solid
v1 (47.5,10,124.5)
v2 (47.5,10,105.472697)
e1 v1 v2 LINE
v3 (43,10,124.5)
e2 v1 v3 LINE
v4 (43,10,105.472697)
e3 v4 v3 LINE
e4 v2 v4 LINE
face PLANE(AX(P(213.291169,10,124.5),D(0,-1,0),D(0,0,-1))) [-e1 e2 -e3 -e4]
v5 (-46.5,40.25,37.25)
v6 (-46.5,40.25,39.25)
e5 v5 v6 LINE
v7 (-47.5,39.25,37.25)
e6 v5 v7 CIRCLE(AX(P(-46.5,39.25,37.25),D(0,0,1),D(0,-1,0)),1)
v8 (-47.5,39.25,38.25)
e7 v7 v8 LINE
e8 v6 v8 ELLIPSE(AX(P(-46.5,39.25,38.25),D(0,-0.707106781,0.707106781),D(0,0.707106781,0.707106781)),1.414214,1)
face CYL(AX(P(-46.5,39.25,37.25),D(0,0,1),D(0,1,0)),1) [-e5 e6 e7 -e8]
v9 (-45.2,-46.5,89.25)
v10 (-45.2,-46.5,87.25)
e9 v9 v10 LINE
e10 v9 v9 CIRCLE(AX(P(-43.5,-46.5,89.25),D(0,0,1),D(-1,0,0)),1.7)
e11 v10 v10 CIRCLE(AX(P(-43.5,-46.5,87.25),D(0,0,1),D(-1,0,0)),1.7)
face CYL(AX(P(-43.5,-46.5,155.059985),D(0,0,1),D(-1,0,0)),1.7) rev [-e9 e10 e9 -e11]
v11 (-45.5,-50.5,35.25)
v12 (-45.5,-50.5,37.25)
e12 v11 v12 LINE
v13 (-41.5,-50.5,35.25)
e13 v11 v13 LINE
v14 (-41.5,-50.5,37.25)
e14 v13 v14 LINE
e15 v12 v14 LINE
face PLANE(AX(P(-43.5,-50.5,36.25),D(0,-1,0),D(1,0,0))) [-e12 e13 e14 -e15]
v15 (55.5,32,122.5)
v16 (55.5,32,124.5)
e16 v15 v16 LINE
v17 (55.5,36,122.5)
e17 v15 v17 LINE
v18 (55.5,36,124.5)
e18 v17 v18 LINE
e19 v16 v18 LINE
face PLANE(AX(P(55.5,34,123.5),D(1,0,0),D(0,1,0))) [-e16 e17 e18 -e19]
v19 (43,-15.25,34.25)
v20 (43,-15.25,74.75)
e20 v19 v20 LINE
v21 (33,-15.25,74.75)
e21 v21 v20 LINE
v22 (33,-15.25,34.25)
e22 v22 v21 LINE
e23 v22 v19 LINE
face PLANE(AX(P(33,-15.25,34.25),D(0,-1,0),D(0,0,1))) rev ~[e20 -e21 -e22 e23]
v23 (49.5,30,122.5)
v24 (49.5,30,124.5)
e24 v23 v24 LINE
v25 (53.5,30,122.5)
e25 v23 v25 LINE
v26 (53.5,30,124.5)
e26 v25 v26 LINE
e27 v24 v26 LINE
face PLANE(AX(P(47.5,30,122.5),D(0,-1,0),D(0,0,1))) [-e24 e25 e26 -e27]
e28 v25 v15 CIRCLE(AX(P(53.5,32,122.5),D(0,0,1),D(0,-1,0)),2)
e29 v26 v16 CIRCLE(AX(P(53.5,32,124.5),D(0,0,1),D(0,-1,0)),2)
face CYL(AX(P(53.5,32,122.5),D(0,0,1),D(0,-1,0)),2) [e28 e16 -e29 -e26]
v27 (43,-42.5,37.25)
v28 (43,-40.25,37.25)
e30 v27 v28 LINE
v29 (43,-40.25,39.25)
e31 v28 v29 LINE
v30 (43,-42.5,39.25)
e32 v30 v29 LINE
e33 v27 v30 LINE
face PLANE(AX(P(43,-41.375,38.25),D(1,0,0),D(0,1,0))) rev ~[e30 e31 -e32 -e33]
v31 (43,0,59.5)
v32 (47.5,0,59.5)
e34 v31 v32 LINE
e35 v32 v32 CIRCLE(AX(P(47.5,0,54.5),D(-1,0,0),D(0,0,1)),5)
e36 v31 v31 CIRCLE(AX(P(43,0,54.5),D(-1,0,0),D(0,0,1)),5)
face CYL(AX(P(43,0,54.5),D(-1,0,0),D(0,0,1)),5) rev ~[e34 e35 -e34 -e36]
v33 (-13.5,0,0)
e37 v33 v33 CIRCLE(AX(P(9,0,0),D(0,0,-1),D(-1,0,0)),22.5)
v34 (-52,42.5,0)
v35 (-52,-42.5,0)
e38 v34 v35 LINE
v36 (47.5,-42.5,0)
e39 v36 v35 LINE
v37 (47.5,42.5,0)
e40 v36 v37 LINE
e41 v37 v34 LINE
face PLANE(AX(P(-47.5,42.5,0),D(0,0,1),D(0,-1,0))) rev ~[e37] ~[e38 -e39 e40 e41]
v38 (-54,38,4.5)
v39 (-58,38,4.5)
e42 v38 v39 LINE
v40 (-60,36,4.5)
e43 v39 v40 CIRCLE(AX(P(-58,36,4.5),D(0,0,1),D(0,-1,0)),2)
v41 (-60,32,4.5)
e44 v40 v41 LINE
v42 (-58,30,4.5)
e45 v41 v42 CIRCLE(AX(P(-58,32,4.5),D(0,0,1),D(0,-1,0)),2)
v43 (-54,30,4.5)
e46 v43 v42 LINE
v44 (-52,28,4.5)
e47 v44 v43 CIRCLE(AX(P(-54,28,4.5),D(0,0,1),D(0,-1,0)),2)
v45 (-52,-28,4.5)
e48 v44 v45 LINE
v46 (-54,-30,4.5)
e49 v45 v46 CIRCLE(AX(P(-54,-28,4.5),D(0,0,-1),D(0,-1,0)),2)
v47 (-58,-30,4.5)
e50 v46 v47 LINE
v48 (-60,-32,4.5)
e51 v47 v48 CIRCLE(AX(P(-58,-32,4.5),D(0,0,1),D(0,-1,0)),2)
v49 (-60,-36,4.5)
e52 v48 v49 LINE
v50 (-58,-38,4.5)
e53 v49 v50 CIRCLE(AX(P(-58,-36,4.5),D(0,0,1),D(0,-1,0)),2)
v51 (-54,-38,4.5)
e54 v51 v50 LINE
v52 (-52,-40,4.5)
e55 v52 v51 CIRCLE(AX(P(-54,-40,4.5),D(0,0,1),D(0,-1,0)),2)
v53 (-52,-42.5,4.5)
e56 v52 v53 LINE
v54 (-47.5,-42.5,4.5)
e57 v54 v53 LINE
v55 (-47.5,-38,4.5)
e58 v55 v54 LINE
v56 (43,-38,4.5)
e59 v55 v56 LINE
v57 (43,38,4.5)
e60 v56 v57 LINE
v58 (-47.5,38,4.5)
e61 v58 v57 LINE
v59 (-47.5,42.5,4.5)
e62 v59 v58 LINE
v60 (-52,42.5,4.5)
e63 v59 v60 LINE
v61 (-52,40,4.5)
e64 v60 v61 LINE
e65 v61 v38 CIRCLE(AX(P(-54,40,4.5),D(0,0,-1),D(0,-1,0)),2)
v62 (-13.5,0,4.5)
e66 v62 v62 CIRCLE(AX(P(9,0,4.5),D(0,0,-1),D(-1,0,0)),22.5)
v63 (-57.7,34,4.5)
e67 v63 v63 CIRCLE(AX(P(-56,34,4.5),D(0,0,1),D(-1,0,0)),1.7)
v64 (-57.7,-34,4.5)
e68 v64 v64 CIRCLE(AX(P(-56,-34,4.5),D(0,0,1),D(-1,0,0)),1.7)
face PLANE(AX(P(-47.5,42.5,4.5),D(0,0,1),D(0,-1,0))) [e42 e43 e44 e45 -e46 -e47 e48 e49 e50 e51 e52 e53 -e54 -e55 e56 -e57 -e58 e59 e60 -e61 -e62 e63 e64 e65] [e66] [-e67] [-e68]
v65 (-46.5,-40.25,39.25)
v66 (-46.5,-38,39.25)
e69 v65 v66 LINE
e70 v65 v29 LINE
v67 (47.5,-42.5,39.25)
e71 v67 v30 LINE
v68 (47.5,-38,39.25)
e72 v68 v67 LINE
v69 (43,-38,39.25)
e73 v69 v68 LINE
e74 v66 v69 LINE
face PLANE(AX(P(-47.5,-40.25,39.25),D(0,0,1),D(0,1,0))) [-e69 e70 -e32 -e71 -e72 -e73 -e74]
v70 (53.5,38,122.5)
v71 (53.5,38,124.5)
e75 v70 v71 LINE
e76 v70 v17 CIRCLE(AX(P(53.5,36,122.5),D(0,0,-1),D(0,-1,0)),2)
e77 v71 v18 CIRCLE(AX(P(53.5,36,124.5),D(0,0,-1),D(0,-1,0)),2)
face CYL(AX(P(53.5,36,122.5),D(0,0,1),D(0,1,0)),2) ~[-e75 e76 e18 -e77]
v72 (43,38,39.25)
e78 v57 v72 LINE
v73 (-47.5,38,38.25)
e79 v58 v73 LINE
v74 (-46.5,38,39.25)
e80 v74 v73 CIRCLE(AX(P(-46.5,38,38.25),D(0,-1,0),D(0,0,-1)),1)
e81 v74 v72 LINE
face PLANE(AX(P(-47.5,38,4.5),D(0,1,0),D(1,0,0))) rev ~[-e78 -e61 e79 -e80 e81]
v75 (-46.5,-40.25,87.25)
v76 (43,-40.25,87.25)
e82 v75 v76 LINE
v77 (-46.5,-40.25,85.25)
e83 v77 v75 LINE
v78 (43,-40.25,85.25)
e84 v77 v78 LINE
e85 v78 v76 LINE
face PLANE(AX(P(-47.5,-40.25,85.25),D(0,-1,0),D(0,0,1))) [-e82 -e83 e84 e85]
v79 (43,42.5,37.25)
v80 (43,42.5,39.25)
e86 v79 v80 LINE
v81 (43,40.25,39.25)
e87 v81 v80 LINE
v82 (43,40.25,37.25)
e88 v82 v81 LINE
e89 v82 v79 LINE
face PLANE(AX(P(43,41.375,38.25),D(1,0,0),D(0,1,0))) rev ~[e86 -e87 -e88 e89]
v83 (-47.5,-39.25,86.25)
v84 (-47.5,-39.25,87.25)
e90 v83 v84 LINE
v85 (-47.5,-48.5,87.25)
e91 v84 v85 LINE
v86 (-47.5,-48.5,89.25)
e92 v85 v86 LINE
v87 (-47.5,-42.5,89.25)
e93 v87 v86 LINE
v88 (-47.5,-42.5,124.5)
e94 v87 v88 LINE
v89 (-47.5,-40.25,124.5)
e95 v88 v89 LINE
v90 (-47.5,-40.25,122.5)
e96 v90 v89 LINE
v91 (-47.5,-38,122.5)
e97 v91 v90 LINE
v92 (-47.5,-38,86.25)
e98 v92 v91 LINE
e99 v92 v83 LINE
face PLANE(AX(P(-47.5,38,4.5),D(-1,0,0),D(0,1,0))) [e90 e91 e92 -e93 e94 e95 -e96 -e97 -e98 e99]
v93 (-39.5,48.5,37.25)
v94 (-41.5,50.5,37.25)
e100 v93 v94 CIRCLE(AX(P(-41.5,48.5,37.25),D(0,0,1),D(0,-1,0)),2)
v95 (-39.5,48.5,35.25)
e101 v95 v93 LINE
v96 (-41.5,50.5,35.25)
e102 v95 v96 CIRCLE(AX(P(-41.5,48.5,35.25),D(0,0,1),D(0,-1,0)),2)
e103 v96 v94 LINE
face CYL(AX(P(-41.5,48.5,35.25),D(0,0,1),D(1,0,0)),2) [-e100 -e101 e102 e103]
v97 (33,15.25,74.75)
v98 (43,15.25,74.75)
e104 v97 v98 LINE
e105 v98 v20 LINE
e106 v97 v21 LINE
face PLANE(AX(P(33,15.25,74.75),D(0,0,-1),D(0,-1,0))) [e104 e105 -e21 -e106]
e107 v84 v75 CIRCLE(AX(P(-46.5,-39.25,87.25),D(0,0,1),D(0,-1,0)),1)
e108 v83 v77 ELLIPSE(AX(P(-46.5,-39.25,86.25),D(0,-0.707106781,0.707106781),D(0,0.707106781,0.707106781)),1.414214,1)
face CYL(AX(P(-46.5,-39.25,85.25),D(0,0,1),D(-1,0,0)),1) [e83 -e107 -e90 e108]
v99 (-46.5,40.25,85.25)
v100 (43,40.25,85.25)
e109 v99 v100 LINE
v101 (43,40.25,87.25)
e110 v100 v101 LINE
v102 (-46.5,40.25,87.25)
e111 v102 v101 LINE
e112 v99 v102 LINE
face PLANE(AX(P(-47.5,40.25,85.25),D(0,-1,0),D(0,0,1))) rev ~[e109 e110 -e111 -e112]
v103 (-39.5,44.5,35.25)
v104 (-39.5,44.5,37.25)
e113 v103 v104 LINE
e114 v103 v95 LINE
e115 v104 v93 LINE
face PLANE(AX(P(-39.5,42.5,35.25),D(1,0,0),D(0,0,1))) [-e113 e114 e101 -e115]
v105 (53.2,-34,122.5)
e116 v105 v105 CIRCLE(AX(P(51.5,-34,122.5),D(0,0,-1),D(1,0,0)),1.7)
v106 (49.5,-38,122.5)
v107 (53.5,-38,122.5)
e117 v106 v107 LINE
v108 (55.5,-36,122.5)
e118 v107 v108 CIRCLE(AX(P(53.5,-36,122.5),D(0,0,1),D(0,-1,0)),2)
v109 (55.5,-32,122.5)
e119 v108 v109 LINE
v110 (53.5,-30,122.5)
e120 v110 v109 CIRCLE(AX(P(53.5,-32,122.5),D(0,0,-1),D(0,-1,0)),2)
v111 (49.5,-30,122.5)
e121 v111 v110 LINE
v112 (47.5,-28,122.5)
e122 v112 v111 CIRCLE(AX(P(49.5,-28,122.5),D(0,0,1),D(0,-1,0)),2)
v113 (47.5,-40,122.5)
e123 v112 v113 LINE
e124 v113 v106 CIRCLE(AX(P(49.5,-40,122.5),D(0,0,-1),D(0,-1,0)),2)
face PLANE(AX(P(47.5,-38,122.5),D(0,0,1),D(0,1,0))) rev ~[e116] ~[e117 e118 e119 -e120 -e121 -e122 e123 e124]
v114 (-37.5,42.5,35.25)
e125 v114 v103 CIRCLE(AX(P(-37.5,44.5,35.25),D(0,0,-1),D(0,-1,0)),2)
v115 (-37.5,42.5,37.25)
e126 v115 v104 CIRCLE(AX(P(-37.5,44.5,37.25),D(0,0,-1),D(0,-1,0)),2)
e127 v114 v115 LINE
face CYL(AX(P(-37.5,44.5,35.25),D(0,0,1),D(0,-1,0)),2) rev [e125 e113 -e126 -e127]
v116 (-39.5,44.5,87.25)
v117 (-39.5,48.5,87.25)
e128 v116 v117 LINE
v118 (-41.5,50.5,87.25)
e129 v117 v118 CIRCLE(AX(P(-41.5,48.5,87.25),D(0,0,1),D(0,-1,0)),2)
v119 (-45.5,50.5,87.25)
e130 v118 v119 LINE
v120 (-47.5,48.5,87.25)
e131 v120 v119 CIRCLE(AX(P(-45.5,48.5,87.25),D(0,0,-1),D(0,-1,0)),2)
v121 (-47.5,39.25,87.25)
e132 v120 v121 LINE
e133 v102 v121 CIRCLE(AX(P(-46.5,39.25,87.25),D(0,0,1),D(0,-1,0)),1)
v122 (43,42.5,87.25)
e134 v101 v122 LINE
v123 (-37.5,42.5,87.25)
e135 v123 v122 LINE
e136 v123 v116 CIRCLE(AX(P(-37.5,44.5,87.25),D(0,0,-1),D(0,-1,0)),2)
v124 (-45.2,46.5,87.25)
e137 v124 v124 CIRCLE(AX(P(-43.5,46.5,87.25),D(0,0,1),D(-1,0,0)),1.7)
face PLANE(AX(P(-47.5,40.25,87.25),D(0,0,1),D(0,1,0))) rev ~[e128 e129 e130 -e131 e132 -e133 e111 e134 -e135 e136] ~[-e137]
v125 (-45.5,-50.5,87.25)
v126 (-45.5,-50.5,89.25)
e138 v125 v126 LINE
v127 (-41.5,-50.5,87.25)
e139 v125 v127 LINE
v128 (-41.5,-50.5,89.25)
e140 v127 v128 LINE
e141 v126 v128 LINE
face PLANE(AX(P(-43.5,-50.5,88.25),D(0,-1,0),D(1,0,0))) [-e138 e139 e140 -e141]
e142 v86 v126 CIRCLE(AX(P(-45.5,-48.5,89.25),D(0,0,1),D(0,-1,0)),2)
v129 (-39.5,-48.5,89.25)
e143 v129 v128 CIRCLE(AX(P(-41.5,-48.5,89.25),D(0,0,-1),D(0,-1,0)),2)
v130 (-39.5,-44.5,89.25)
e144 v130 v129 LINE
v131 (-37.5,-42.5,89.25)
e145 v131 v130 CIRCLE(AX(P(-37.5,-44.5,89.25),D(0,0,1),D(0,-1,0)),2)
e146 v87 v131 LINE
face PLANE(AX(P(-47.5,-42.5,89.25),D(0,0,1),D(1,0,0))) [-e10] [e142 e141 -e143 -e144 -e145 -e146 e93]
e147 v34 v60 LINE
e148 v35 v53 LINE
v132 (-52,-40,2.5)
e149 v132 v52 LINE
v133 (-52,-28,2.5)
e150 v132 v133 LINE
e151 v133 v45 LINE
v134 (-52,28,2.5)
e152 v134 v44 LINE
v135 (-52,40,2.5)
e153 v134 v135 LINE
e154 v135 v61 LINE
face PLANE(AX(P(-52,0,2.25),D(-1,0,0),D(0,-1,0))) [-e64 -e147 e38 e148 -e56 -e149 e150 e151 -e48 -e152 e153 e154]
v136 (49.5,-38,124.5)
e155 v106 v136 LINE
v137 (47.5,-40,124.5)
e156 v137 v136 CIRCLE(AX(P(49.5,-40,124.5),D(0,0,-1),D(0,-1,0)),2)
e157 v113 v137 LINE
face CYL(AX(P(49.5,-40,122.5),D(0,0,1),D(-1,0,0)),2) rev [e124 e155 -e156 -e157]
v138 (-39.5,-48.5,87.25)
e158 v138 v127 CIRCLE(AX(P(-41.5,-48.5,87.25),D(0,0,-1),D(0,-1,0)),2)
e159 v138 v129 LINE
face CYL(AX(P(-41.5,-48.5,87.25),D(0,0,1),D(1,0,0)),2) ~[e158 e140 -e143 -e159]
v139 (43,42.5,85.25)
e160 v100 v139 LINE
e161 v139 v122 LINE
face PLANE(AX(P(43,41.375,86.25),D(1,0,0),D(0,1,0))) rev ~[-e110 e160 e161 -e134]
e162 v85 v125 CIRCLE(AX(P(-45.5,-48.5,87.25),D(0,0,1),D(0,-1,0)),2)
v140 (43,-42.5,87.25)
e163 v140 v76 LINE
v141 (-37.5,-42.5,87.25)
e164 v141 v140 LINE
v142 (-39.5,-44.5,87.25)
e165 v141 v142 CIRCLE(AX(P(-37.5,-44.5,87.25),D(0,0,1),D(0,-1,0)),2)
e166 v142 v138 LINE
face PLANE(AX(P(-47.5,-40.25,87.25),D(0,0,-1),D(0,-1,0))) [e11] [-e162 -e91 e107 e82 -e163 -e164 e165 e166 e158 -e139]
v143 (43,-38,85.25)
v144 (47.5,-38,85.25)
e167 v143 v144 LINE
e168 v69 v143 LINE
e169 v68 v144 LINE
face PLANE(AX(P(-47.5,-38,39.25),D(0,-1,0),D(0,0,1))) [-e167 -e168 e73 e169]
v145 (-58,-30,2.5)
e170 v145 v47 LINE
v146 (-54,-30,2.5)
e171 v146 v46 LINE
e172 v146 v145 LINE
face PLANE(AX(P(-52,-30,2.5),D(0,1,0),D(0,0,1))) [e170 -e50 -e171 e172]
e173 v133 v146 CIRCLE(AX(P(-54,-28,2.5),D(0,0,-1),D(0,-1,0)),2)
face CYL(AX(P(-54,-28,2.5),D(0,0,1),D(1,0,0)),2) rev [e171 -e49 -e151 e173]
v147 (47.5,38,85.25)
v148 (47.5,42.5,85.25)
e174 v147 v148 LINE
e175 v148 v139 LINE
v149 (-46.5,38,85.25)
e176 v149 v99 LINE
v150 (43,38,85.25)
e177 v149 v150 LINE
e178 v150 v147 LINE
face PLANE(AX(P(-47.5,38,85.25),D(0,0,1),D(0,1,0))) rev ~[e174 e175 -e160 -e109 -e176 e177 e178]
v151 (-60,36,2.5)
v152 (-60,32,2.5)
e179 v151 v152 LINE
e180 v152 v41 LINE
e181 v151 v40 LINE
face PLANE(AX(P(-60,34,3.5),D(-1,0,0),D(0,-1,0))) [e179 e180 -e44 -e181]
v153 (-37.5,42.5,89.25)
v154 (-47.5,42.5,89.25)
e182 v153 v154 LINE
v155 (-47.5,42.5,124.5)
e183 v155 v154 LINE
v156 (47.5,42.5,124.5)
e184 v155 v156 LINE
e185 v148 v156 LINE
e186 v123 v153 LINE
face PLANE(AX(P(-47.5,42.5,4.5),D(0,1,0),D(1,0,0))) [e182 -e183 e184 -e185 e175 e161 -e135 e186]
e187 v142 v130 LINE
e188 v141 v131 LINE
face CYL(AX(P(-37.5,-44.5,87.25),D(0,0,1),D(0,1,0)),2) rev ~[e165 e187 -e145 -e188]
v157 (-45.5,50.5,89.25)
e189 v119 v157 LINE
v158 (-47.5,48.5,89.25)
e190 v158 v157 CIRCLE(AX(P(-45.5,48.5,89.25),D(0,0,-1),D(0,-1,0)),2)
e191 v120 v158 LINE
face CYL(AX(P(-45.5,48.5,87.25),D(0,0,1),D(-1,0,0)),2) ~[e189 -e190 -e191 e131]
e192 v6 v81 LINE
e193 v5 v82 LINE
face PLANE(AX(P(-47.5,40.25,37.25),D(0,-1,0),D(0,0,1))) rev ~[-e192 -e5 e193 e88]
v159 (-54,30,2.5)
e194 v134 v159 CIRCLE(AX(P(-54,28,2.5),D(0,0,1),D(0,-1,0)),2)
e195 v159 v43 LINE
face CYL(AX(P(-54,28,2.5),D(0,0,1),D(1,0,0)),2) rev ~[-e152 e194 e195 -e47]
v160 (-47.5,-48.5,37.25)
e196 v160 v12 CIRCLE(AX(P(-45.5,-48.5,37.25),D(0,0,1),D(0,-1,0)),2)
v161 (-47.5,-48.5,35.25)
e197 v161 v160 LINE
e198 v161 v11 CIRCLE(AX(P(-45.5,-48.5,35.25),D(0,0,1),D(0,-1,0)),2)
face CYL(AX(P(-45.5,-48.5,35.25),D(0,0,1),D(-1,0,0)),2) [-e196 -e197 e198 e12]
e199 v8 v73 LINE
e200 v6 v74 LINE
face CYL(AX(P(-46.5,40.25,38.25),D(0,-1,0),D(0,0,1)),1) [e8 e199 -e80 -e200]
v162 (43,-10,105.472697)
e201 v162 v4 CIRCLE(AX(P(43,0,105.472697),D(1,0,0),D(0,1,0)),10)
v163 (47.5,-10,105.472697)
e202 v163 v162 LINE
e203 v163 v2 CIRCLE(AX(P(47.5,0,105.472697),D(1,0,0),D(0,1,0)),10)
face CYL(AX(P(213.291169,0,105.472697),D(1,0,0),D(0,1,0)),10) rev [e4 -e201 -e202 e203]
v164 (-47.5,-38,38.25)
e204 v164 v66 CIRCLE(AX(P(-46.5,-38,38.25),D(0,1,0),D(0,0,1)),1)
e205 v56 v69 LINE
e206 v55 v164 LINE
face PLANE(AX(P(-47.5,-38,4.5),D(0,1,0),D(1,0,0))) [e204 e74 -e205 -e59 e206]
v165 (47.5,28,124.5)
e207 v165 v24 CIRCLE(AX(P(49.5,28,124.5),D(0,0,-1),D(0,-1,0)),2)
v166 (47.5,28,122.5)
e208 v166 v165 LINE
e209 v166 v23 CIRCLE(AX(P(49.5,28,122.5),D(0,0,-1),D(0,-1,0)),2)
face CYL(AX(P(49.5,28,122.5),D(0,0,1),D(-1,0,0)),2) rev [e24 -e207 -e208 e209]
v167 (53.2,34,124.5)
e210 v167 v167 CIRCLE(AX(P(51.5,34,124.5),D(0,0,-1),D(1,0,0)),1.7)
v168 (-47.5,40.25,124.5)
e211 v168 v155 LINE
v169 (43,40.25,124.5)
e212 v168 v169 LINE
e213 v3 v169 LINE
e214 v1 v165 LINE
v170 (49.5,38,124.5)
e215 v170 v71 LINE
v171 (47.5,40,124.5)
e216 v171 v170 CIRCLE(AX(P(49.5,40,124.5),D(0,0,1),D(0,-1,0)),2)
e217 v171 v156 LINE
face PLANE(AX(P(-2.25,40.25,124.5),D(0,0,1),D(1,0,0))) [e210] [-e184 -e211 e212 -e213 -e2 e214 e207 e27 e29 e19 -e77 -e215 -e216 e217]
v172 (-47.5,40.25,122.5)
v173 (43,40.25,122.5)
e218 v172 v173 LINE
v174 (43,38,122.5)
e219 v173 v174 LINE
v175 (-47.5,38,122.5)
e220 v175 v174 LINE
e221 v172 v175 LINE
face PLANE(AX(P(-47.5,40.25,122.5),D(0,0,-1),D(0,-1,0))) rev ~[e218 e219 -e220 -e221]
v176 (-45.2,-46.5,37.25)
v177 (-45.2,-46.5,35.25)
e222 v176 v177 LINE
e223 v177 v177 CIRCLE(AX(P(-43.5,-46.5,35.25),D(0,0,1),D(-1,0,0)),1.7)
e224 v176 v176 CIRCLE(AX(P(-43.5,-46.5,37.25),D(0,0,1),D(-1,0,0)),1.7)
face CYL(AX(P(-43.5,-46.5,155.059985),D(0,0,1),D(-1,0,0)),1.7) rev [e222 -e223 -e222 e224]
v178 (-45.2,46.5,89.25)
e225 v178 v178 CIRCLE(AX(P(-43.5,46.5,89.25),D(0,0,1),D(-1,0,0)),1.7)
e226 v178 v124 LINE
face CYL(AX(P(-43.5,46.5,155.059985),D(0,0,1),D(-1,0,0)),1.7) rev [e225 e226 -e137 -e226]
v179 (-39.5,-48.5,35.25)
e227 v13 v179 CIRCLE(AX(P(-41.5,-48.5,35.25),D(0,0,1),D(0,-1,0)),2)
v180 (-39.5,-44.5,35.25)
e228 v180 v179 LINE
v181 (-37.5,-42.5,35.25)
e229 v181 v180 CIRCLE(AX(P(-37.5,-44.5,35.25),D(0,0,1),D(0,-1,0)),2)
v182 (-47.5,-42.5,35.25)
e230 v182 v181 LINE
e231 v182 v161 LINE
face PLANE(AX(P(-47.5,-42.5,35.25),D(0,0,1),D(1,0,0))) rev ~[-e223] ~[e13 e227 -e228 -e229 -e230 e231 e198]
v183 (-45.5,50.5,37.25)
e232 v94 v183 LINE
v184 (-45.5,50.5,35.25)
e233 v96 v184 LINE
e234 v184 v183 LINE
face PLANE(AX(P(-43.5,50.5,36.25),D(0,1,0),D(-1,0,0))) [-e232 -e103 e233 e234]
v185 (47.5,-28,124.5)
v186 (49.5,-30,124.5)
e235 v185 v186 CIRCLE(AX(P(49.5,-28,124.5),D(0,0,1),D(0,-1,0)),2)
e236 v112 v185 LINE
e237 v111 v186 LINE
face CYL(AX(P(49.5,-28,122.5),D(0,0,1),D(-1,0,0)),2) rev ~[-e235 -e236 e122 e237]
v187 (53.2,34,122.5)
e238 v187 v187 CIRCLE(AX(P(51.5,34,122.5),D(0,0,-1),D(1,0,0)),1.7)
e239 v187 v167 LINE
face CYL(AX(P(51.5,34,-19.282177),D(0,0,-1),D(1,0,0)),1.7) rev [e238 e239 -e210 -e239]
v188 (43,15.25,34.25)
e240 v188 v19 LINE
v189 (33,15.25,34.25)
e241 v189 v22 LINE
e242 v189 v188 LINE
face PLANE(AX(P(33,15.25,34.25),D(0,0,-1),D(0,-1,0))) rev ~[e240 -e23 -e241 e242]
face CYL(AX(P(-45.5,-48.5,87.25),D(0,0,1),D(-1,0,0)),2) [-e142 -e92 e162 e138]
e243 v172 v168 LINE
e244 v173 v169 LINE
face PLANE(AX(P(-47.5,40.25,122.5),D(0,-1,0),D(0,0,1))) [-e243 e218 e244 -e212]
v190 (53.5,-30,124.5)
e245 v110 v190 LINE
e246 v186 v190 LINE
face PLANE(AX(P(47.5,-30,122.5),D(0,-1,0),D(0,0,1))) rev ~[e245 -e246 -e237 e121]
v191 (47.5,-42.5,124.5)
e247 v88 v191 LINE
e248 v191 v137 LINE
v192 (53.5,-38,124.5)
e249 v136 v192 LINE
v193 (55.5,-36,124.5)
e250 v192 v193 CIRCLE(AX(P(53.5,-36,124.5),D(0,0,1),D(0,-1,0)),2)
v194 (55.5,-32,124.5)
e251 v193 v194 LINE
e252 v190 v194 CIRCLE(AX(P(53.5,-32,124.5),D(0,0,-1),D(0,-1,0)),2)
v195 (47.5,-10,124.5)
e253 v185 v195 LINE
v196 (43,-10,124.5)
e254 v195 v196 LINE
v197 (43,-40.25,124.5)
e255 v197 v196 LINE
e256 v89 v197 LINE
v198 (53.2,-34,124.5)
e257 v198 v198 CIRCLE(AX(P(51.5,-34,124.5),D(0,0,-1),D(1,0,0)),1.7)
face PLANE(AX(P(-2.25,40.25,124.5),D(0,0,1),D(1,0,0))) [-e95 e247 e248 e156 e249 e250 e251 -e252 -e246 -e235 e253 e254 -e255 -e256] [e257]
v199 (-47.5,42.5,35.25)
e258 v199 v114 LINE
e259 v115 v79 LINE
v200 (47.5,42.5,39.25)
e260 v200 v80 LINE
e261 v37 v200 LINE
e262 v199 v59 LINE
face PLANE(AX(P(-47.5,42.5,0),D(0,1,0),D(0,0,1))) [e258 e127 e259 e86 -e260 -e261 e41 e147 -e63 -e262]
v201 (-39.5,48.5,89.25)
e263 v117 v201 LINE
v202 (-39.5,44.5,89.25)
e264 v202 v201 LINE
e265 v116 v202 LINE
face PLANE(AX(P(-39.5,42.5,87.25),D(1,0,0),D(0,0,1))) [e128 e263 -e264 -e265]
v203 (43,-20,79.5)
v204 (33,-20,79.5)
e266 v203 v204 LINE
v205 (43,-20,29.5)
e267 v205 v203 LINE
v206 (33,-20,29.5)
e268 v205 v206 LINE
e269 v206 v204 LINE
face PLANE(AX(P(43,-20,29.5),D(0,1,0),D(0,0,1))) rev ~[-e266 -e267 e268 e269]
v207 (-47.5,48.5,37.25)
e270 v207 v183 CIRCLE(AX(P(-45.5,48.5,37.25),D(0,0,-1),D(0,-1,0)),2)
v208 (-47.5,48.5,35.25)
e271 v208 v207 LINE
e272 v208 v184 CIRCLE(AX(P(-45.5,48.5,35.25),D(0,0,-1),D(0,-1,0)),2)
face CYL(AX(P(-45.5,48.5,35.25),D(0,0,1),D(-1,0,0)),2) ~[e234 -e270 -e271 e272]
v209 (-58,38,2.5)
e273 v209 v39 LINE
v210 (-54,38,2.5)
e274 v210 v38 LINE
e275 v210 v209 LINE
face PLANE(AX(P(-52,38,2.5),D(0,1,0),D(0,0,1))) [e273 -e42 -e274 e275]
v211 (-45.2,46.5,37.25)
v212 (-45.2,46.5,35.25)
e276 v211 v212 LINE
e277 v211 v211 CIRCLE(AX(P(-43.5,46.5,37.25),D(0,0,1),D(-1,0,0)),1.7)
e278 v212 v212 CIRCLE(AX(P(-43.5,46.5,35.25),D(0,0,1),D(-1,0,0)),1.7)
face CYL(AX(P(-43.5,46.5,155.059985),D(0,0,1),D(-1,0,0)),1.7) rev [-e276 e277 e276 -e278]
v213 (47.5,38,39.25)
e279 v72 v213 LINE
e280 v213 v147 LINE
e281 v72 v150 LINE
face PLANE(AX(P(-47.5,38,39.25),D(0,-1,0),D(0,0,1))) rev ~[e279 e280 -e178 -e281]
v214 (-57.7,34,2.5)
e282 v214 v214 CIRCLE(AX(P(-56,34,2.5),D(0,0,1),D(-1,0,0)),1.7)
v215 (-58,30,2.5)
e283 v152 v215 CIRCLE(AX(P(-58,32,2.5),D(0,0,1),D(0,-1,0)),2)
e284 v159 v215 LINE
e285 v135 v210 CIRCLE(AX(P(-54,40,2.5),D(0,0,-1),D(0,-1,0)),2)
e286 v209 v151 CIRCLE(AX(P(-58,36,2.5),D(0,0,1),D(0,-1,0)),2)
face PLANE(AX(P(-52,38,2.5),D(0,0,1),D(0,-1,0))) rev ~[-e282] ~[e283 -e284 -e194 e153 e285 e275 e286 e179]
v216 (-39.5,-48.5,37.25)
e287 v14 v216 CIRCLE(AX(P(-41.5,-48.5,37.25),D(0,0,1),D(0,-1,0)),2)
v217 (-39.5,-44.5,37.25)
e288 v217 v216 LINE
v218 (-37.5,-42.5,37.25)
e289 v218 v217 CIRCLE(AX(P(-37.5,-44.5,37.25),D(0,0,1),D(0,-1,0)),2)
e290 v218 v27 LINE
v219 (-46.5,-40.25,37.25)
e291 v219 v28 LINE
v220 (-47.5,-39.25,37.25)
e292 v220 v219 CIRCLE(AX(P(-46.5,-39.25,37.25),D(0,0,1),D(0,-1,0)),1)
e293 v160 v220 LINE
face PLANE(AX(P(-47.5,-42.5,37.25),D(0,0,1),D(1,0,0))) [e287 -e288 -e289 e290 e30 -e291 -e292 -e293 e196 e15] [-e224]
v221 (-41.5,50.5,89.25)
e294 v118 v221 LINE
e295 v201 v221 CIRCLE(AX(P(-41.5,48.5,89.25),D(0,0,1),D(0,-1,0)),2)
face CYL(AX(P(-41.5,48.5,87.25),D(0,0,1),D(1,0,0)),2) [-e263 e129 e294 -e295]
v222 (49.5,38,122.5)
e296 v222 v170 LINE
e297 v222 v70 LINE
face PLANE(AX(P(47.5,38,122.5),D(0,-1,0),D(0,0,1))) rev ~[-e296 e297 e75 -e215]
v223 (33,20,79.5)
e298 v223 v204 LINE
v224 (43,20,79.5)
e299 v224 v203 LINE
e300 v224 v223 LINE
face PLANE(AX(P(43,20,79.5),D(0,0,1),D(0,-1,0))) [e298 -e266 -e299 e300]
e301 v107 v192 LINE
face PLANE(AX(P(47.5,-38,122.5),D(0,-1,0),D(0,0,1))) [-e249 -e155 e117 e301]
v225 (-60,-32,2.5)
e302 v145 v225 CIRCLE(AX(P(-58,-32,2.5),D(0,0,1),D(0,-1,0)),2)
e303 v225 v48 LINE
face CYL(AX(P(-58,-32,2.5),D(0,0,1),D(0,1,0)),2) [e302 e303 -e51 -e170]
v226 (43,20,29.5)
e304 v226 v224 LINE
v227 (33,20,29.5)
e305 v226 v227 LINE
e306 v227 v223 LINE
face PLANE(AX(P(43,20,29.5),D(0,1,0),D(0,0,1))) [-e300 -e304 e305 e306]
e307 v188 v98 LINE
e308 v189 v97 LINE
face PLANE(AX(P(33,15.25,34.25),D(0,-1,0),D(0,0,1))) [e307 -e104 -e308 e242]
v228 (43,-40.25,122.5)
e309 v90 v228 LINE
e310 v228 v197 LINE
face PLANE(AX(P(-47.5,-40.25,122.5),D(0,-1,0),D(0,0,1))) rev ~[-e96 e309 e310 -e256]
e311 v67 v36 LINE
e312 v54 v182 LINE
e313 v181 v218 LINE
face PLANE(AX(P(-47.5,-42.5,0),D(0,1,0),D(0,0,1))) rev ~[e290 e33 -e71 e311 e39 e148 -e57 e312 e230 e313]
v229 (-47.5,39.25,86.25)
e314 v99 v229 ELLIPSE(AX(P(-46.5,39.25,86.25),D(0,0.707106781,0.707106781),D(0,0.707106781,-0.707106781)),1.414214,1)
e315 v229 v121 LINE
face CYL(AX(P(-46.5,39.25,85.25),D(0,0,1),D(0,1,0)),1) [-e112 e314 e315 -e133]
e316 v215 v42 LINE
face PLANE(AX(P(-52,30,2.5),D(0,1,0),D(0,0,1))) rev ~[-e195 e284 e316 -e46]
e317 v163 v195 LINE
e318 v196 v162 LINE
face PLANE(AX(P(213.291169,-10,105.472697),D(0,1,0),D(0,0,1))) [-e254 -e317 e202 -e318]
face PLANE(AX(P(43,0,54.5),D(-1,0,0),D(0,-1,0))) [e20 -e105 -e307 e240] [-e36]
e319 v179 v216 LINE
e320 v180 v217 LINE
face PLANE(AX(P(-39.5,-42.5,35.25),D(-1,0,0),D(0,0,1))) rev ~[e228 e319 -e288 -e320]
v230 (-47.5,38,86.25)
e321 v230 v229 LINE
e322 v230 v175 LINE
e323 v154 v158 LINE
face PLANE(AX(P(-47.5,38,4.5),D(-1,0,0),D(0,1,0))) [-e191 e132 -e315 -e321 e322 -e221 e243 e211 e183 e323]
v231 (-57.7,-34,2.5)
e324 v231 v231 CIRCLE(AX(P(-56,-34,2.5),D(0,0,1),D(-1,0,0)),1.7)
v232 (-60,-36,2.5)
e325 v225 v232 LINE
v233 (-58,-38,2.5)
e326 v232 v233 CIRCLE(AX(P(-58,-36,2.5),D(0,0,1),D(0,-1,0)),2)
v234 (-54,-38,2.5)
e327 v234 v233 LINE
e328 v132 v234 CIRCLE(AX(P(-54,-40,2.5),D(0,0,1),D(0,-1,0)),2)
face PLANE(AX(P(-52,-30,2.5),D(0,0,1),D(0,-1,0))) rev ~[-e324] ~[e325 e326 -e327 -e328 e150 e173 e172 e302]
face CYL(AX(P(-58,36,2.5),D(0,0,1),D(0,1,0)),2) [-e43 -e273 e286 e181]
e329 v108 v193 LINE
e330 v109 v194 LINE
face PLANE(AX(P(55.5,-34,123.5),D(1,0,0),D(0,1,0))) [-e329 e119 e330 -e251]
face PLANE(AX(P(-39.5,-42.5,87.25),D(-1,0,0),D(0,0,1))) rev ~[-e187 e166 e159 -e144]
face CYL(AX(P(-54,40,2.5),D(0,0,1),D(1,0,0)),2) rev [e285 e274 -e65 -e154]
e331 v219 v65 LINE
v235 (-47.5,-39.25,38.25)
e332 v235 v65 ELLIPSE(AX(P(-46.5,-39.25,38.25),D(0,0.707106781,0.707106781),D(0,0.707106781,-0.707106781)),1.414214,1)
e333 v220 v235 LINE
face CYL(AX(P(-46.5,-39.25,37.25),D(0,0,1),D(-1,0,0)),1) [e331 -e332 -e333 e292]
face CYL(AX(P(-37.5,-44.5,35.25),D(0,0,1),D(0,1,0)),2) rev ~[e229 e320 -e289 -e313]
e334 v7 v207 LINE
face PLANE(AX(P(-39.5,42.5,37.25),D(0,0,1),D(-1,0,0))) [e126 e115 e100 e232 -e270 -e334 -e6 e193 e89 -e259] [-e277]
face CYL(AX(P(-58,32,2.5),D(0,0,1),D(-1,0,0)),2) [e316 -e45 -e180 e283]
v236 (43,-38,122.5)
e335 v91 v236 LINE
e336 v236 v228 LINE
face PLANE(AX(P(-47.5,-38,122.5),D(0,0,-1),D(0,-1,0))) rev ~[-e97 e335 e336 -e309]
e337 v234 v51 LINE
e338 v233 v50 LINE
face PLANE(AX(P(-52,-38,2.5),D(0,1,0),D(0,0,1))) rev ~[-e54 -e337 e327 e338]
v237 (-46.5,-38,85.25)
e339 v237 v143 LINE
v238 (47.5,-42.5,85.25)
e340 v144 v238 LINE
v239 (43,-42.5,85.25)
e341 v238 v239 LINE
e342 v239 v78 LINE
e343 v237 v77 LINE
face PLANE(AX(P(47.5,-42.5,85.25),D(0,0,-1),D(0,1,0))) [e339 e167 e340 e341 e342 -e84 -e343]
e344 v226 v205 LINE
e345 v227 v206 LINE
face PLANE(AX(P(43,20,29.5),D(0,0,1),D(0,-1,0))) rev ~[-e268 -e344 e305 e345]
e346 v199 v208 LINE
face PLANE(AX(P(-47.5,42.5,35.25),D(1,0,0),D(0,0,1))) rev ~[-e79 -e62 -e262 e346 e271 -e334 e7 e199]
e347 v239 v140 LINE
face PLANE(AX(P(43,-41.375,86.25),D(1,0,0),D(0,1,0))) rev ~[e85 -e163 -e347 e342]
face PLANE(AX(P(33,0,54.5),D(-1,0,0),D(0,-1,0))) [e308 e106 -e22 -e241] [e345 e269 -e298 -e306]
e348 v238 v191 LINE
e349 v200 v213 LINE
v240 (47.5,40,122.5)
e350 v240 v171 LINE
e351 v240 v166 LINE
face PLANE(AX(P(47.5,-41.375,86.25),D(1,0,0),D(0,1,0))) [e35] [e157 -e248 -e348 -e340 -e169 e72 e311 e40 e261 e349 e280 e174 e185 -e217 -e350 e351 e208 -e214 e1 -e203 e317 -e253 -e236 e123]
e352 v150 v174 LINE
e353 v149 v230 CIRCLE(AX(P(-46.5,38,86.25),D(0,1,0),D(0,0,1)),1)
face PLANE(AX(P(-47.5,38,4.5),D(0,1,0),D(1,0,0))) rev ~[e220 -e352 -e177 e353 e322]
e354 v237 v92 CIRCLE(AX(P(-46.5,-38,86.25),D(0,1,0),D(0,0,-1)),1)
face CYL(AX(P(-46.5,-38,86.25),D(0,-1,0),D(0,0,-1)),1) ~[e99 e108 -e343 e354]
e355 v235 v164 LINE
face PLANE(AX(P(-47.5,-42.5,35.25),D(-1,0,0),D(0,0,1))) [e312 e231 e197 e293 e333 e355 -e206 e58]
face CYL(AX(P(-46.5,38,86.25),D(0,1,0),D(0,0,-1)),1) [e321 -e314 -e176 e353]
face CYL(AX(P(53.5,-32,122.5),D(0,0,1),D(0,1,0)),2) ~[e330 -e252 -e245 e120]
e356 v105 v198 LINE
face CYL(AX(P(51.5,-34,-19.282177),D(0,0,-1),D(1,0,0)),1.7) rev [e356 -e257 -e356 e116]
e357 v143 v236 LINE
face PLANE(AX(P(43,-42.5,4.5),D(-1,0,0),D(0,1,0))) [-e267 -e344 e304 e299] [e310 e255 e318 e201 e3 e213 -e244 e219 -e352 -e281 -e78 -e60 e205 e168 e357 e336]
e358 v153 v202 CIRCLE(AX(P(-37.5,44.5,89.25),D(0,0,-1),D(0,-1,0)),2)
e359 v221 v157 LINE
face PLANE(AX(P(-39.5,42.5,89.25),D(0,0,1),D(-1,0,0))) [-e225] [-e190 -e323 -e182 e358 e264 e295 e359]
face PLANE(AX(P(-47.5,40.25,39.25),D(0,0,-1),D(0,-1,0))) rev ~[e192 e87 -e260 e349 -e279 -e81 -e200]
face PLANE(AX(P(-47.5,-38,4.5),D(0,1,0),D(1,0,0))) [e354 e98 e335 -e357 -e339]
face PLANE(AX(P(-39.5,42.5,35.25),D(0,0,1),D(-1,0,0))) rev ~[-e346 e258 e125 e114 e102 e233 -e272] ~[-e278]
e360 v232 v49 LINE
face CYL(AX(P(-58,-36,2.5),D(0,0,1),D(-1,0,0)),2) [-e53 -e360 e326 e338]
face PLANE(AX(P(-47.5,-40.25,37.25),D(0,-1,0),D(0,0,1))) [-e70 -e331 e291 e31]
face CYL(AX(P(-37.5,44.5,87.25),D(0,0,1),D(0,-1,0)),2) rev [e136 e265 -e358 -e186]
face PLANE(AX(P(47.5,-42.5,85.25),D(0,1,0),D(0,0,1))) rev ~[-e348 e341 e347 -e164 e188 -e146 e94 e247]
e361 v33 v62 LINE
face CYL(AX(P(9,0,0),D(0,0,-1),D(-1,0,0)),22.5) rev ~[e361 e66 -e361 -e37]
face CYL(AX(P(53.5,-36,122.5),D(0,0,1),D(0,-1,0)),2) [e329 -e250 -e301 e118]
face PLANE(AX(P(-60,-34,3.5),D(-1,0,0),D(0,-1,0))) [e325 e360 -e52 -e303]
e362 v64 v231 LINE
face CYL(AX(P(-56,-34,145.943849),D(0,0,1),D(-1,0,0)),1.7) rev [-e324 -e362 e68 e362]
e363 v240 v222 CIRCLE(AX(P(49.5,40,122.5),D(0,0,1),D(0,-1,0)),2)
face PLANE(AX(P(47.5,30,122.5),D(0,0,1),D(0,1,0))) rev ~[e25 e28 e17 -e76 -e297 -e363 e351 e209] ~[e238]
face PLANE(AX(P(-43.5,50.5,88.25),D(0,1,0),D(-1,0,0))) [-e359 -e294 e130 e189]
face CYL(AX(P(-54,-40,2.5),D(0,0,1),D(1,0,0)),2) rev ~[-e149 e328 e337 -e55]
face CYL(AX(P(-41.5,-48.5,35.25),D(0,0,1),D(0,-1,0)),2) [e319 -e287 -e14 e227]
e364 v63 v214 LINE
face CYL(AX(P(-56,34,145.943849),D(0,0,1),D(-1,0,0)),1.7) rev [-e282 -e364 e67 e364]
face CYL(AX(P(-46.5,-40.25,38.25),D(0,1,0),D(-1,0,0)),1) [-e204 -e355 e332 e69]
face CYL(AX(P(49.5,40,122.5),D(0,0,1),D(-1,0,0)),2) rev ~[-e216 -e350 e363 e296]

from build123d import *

# Parameters (mm, degrees)
SKETCH1_W                = 85
SKETCH1_H                = 95
BOSS_EXTRUDE1_DEPTH      = 4.5
SKETCH2_W                = 4.5
SKETCH2_H                = 85
BOSS_EXTRUDE2_DEPTH      = 120
SKETCH3_W                = 90.5
SKETCH3_H                = 4.5
BOSS_EXTRUDE3_DEPTH      = 120
CUT_EXTRUDE1_REACH       = 141.867
SKETCH4_R                = 22.5
CUT_EXTRUDE3_DEPTH       = 163.269837
SKETCH8_W                = 2.25
SKETCH8_H                = 2
CUT_EXTRUDE4_DEPTH       = 90.5
SKETCH9_W                = 85
SKETCH9_H                = 4.5
BOSS_EXTRUDE5_DEPTH      = 4.5
SKETCH11_W               = 40
SKETCH11_H               = 50
BOSS_EXTRUDE7_DEPTH      = 10
SKETCH12_W               = 30.5
SKETCH12_H               = 40.5
CUT_EXTRUDE5_DEPTH       = 10
SKETCH13_R               = 5
CUT_EXTRUDE6_DEPTH       = 163.269837
SKETCH14_W               = 8
SKETCH14_H               = 2
BOSS_EXTRUDE8_DEPTH      = 8
CUT_EXTRUDE8_DEPTH       = 143.782176759
CUT_EXTRUDE8_DEPTH_BACK  = 143.782176759
SKETCH16_R               = 1.7
SKETCH17_W               = 8
SKETCH17_H               = 2
BOSS_EXTRUDE9_DEPTH      = 8
CUT_EXTRUDE9_DEPTH       = 143.443848586
CUT_EXTRUDE9_DEPTH_BACK  = 143.443848586
SKETCH18_R               = 1.7
SKETCH19_W               = 2.25
SKETCH19_H               = 2
BOSS_EXTRUDE10_DEPTH     = 4.5
SKETCH20_W               = 8
SKETCH20_H               = 2
BOSS_EXTRUDE11_DEPTH     = 8
SKETCH22_W               = 8
SKETCH22_H               = 2
BOSS_EXTRUDE12_DEPTH     = 8
CUT_EXTRUDE10_DEPTH      = 119.80998485
CUT_EXTRUDE10_DEPTH_BACK = 119.80998485
SKETCH21_R               = 1.7
FILLET2_R                = 2
FILLET3_R                = 1
CUT_EXTRUDE11_DEPTH      = 170.291169291
CUT_EXTRUDE11_DEPTH_BACK = 170.291169291


with BuildPart() as part:
    # Sketch1 → Boss-Extrude1 (new body)
    with BuildSketch(Plane(origin=(0, 0, 0), x_dir=(0, 1, 0), z_dir=(0, 0, 1))):
        Rectangle(SKETCH1_W, SKETCH1_H)
    extrude(amount=BOSS_EXTRUDE1_DEPTH)

    # Sketch2 → Boss-Extrude2 (add)
    with BuildSketch(Plane.XY.offset(4.5)):
        with Locations((45.25, 0)):
            Rectangle(SKETCH2_W, SKETCH2_H)
    extrude(amount=BOSS_EXTRUDE2_DEPTH)

    # Sketch3 → Boss-Extrude3 (add)
    with BuildSketch(Plane.XY.offset(4.5)):
        with Locations((-2.25, 40.25)):
            Rectangle(SKETCH3_W, SKETCH3_H)
        with Locations((-2.25, -40.25)):
            Rectangle(SKETCH3_W, SKETCH3_H)
    extrude(amount=BOSS_EXTRUDE3_DEPTH)

    # Sketch4 → Cut-Extrude1 (cut, up to next)
    with BuildSketch(Plane(origin=(0, 0, 0), x_dir=(1, 0, 0), z_dir=(0, 0, -1)), mode=Mode.PRIVATE) as cut_extrude1_sk1:
        with Locations(Location((9, 0, 0), (0, 0, 180))):
            Circle(SKETCH4_R)
    cut_extrude1_tool1 = extrude(cut_extrude1_sk1.sketch, amount=-CUT_EXTRUDE1_REACH, mode=Mode.PRIVATE) & part.part
    add(cut_extrude1_tool1.solids().sort_by_distance((9, 0, 0))[0], mode=Mode.SUBTRACT)

    # Sketch7 → Cut-Extrude3 (cut, through all)
    with BuildSketch(Plane(origin=(-47.5, 0, 0), x_dir=(0, -1, 0), z_dir=(-1, 0, 0))):
        Polygon((-38, 85.25), (-40.25, 85.25), (-40.25, 87.25), (-42.5, 87.25), (-42.5, 37.25), (-40.25, 37.25), (-40.25, 39.25), (-38, 39.25), align=None)
        Polygon((40.25, 39.25), (38, 39.25), (38, 85.25), (40.25, 85.25), (40.25, 87.25), (42.5, 87.25), (42.5, 37.25), (40.25, 37.25), align=None)
    extrude(amount=-CUT_EXTRUDE3_DEPTH, mode=Mode.SUBTRACT)

    # Sketch8 → Cut-Extrude4 (cut)
    with BuildSketch(Plane(origin=(-47.5, 0, 0), x_dir=(0, -1, 0), z_dir=(-1, 0, 0))):
        with Locations((-39.125, 123.5)):
            Rectangle(SKETCH8_W, SKETCH8_H)
        with Locations((39.125, 123.5)):
            Rectangle(SKETCH8_W, SKETCH8_H)
    extrude(amount=-CUT_EXTRUDE4_DEPTH, mode=Mode.SUBTRACT)

    # Sketch9 → Boss-Extrude5 (add)
    with BuildSketch(Plane(origin=(-47.5, 0, 0), x_dir=(0, -1, 0), z_dir=(-1, 0, 0))):
        with Locations((0, 2.25)):
            Rectangle(SKETCH9_W, SKETCH9_H)
    extrude(amount=BOSS_EXTRUDE5_DEPTH)

    # Sketch11 → Boss-Extrude7 (add)
    with BuildSketch(Plane(origin=(43, 0, 0), x_dir=(0, -1, 0), z_dir=(-1, 0, 0))):
        with Locations((0, 54.5)):
            Rectangle(SKETCH11_W, SKETCH11_H)
    extrude(amount=BOSS_EXTRUDE7_DEPTH)

    # Sketch12 → Cut-Extrude5 (cut)
    with BuildSketch(Plane(origin=(33, 0, 0), x_dir=(0, -1, 0), z_dir=(-1, 0, 0))):
        with Locations((0, 54.5)):
            Rectangle(SKETCH12_W, SKETCH12_H)
    extrude(amount=-CUT_EXTRUDE5_DEPTH, mode=Mode.SUBTRACT)

    # Sketch13 → Cut-Extrude6 (cut, through all)
    with BuildSketch(Plane(origin=(43, 0, 0), x_dir=(0, -1, 0), z_dir=(-1, 0, 0))):
        with Locations(Location((0, 54.5, 0), (0, 0, 90))):
            Circle(SKETCH13_R)
    extrude(amount=-CUT_EXTRUDE6_DEPTH, mode=Mode.SUBTRACT)

    # Sketch14 → Boss-Extrude8 (add)
    with BuildSketch(Plane.YZ.offset(47.5)):
        with Locations((-34, 123.5)):
            Rectangle(SKETCH14_W, SKETCH14_H)
        with Locations((34, 123.5)):
            Rectangle(SKETCH14_W, SKETCH14_H)
    extrude(amount=BOSS_EXTRUDE8_DEPTH)

    # Sketch16 → Cut-Extrude8 (cut, two sides: drawn at the far end of the back side and taken through both)
    with BuildSketch(Plane.XY.offset(124.5).offset(-CUT_EXTRUDE8_DEPTH_BACK)):
        with Locations((51.5, 34)):
            Circle(SKETCH16_R)
        with Locations((51.5, -34)):
            Circle(SKETCH16_R)
    extrude(amount=CUT_EXTRUDE8_DEPTH + CUT_EXTRUDE8_DEPTH_BACK, mode=Mode.SUBTRACT)

    # Sketch17 → Boss-Extrude9 (add)
    with BuildSketch(Plane(origin=(-52, 0, 0), x_dir=(0, -1, 0), z_dir=(-1, 0, 0))):
        with Locations((-34, 3.5)):
            Rectangle(SKETCH17_W, SKETCH17_H)
        with Locations((34, 3.5)):
            Rectangle(SKETCH17_W, SKETCH17_H)
    extrude(amount=BOSS_EXTRUDE9_DEPTH)

    # Sketch18 → Cut-Extrude9 (cut, two sides: drawn at the far end of the back side and taken through both)
    with BuildSketch(Plane(origin=(0, 0, 2.5), x_dir=(1, 0, 0), z_dir=(0, 0, -1)).offset(-CUT_EXTRUDE9_DEPTH_BACK)):
        with Locations(Location((-56, -34, 0), (0, 0, 180))):
            Circle(SKETCH18_R)
        with Locations(Location((-56, 34, 0), (0, 0, 180))):
            Circle(SKETCH18_R)
    extrude(amount=CUT_EXTRUDE9_DEPTH + CUT_EXTRUDE9_DEPTH_BACK, mode=Mode.SUBTRACT)

    # Sketch19 → Boss-Extrude10 (add)
    with BuildSketch(Plane.YZ.offset(47.5)):
        with Locations((-41.375, 86.25)):
            Rectangle(SKETCH19_W, SKETCH19_H)
        with Locations((-41.375, 38.25)):
            Rectangle(SKETCH19_W, SKETCH19_H)
        with Locations((41.375, 38.25)):
            Rectangle(SKETCH19_W, SKETCH19_H)
        with Locations((41.375, 86.25)):
            Rectangle(SKETCH19_W, SKETCH19_H)
    extrude(amount=-BOSS_EXTRUDE10_DEPTH)

    # Sketch20 → Boss-Extrude11 (add)
    with BuildSketch(Plane(origin=(0, 42.5, 0), x_dir=(-1, 0, 0), z_dir=(0, 1, 0))):
        with Locations((43.5, 36.25)):
            Rectangle(SKETCH20_W, SKETCH20_H)
        with Locations((43.5, 88.25)):
            Rectangle(SKETCH20_W, SKETCH20_H)
    extrude(amount=BOSS_EXTRUDE11_DEPTH)

    # Sketch22 → Boss-Extrude12 (add)
    with BuildSketch(Plane.XZ.offset(42.5)):
        with Locations((-43.5, 36.25)):
            Rectangle(SKETCH22_W, SKETCH22_H)
        with Locations((-43.5, 88.25)):
            Rectangle(SKETCH22_W, SKETCH22_H)
    extrude(amount=BOSS_EXTRUDE12_DEPTH)

    # Sketch21 → Cut-Extrude10 (cut, two sides: drawn at the far end of the back side and taken through both)
    with BuildSketch(Plane(origin=(0, 0, 35.25), x_dir=(1, 0, 0), z_dir=(0, 0, -1)).offset(-CUT_EXTRUDE10_DEPTH_BACK)):
        with Locations(Location((-43.5, -46.5, 0), (0, 0, 180))):
            Circle(SKETCH21_R)
        with Locations(Location((-43.5, 46.5, 0), (0, 0, 180))):
            Circle(SKETCH21_R)
    extrude(amount=CUT_EXTRUDE10_DEPTH + CUT_EXTRUDE10_DEPTH_BACK, mode=Mode.SUBTRACT)

    # Fillet2
    fillet2_edges = [part.edges().sort_by_distance(p)[0] for p in [
        (47.5, -38, 123.5),
        (47.5, -30, 123.5),
        (55.5, -38, 123.5),
        (55.5, -30, 123.5),
        (47.5, 38, 123.5),
        (47.5, 30, 123.5),
        (55.5, 38, 123.5),
        (55.5, 30, 123.5),
        (-52, 38, 3.5),
        (-52, 30, 3.5),
        (-60, 38, 3.5),
        (-60, 30, 3.5),
        (-52, -38, 3.5),
        (-52, -30, 3.5),
        (-60, -38, 3.5),
        (-60, -30, 3.5),
        (-39.5, 42.5, 36.25),
        (-47.5, 50.5, 36.25),
        (-39.5, 50.5, 36.25),
        (-39.5, 42.5, 88.25),
        (-47.5, 50.5, 88.25),
        (-39.5, 50.5, 88.25),
        (-39.5, -42.5, 36.25),
        (-47.5, -50.5, 36.25),
        (-39.5, -50.5, 36.25),
        (-39.5, -42.5, 88.25),
        (-47.5, -50.5, 88.25),
        (-39.5, -50.5, 88.25),
    ]]
    fillet(fillet2_edges, radius=FILLET2_R)

    # Fillet3
    fillet3_edges = [part.edges().sort_by_distance(p)[0] for p in [
        (-47.5, -39.125, 39.25),
        (-47.5, 39.125, 85.25),
        (-47.5, 40.25, 86.25),
        (-47.5, 40.25, 38.25),
        (-47.5, 39.125, 39.25),
        (-47.5, -40.25, 38.25),
        (-47.5, -40.25, 86.25),
        (-47.5, -39.125, 85.25),
    ]]
    fillet(fillet3_edges, radius=FILLET3_R)

    # Sketch23 → Cut-Extrude11 (cut, two sides: drawn at the far end of the back side and taken through both)
    with BuildSketch(Plane(origin=(43, 0, 0), x_dir=(0, -1, 0), z_dir=(-1, 0, 0)).offset(-CUT_EXTRUDE11_DEPTH_BACK)):
        with BuildLine():
            Line((-10, 124.5), (-10, 105.472696854))
            ThreePointArc((-10, 105.472696854), (0, 95.472696854), (10, 105.472696854))
            Line((10, 105.472696854), (10, 124.5))
            Line((10, 124.5), (-10, 124.5))
        make_face()
    extrude(amount=CUT_EXTRUDE11_DEPTH + CUT_EXTRUDE11_DEPTH_BACK, mode=Mode.SUBTRACT)


solid = part.part
